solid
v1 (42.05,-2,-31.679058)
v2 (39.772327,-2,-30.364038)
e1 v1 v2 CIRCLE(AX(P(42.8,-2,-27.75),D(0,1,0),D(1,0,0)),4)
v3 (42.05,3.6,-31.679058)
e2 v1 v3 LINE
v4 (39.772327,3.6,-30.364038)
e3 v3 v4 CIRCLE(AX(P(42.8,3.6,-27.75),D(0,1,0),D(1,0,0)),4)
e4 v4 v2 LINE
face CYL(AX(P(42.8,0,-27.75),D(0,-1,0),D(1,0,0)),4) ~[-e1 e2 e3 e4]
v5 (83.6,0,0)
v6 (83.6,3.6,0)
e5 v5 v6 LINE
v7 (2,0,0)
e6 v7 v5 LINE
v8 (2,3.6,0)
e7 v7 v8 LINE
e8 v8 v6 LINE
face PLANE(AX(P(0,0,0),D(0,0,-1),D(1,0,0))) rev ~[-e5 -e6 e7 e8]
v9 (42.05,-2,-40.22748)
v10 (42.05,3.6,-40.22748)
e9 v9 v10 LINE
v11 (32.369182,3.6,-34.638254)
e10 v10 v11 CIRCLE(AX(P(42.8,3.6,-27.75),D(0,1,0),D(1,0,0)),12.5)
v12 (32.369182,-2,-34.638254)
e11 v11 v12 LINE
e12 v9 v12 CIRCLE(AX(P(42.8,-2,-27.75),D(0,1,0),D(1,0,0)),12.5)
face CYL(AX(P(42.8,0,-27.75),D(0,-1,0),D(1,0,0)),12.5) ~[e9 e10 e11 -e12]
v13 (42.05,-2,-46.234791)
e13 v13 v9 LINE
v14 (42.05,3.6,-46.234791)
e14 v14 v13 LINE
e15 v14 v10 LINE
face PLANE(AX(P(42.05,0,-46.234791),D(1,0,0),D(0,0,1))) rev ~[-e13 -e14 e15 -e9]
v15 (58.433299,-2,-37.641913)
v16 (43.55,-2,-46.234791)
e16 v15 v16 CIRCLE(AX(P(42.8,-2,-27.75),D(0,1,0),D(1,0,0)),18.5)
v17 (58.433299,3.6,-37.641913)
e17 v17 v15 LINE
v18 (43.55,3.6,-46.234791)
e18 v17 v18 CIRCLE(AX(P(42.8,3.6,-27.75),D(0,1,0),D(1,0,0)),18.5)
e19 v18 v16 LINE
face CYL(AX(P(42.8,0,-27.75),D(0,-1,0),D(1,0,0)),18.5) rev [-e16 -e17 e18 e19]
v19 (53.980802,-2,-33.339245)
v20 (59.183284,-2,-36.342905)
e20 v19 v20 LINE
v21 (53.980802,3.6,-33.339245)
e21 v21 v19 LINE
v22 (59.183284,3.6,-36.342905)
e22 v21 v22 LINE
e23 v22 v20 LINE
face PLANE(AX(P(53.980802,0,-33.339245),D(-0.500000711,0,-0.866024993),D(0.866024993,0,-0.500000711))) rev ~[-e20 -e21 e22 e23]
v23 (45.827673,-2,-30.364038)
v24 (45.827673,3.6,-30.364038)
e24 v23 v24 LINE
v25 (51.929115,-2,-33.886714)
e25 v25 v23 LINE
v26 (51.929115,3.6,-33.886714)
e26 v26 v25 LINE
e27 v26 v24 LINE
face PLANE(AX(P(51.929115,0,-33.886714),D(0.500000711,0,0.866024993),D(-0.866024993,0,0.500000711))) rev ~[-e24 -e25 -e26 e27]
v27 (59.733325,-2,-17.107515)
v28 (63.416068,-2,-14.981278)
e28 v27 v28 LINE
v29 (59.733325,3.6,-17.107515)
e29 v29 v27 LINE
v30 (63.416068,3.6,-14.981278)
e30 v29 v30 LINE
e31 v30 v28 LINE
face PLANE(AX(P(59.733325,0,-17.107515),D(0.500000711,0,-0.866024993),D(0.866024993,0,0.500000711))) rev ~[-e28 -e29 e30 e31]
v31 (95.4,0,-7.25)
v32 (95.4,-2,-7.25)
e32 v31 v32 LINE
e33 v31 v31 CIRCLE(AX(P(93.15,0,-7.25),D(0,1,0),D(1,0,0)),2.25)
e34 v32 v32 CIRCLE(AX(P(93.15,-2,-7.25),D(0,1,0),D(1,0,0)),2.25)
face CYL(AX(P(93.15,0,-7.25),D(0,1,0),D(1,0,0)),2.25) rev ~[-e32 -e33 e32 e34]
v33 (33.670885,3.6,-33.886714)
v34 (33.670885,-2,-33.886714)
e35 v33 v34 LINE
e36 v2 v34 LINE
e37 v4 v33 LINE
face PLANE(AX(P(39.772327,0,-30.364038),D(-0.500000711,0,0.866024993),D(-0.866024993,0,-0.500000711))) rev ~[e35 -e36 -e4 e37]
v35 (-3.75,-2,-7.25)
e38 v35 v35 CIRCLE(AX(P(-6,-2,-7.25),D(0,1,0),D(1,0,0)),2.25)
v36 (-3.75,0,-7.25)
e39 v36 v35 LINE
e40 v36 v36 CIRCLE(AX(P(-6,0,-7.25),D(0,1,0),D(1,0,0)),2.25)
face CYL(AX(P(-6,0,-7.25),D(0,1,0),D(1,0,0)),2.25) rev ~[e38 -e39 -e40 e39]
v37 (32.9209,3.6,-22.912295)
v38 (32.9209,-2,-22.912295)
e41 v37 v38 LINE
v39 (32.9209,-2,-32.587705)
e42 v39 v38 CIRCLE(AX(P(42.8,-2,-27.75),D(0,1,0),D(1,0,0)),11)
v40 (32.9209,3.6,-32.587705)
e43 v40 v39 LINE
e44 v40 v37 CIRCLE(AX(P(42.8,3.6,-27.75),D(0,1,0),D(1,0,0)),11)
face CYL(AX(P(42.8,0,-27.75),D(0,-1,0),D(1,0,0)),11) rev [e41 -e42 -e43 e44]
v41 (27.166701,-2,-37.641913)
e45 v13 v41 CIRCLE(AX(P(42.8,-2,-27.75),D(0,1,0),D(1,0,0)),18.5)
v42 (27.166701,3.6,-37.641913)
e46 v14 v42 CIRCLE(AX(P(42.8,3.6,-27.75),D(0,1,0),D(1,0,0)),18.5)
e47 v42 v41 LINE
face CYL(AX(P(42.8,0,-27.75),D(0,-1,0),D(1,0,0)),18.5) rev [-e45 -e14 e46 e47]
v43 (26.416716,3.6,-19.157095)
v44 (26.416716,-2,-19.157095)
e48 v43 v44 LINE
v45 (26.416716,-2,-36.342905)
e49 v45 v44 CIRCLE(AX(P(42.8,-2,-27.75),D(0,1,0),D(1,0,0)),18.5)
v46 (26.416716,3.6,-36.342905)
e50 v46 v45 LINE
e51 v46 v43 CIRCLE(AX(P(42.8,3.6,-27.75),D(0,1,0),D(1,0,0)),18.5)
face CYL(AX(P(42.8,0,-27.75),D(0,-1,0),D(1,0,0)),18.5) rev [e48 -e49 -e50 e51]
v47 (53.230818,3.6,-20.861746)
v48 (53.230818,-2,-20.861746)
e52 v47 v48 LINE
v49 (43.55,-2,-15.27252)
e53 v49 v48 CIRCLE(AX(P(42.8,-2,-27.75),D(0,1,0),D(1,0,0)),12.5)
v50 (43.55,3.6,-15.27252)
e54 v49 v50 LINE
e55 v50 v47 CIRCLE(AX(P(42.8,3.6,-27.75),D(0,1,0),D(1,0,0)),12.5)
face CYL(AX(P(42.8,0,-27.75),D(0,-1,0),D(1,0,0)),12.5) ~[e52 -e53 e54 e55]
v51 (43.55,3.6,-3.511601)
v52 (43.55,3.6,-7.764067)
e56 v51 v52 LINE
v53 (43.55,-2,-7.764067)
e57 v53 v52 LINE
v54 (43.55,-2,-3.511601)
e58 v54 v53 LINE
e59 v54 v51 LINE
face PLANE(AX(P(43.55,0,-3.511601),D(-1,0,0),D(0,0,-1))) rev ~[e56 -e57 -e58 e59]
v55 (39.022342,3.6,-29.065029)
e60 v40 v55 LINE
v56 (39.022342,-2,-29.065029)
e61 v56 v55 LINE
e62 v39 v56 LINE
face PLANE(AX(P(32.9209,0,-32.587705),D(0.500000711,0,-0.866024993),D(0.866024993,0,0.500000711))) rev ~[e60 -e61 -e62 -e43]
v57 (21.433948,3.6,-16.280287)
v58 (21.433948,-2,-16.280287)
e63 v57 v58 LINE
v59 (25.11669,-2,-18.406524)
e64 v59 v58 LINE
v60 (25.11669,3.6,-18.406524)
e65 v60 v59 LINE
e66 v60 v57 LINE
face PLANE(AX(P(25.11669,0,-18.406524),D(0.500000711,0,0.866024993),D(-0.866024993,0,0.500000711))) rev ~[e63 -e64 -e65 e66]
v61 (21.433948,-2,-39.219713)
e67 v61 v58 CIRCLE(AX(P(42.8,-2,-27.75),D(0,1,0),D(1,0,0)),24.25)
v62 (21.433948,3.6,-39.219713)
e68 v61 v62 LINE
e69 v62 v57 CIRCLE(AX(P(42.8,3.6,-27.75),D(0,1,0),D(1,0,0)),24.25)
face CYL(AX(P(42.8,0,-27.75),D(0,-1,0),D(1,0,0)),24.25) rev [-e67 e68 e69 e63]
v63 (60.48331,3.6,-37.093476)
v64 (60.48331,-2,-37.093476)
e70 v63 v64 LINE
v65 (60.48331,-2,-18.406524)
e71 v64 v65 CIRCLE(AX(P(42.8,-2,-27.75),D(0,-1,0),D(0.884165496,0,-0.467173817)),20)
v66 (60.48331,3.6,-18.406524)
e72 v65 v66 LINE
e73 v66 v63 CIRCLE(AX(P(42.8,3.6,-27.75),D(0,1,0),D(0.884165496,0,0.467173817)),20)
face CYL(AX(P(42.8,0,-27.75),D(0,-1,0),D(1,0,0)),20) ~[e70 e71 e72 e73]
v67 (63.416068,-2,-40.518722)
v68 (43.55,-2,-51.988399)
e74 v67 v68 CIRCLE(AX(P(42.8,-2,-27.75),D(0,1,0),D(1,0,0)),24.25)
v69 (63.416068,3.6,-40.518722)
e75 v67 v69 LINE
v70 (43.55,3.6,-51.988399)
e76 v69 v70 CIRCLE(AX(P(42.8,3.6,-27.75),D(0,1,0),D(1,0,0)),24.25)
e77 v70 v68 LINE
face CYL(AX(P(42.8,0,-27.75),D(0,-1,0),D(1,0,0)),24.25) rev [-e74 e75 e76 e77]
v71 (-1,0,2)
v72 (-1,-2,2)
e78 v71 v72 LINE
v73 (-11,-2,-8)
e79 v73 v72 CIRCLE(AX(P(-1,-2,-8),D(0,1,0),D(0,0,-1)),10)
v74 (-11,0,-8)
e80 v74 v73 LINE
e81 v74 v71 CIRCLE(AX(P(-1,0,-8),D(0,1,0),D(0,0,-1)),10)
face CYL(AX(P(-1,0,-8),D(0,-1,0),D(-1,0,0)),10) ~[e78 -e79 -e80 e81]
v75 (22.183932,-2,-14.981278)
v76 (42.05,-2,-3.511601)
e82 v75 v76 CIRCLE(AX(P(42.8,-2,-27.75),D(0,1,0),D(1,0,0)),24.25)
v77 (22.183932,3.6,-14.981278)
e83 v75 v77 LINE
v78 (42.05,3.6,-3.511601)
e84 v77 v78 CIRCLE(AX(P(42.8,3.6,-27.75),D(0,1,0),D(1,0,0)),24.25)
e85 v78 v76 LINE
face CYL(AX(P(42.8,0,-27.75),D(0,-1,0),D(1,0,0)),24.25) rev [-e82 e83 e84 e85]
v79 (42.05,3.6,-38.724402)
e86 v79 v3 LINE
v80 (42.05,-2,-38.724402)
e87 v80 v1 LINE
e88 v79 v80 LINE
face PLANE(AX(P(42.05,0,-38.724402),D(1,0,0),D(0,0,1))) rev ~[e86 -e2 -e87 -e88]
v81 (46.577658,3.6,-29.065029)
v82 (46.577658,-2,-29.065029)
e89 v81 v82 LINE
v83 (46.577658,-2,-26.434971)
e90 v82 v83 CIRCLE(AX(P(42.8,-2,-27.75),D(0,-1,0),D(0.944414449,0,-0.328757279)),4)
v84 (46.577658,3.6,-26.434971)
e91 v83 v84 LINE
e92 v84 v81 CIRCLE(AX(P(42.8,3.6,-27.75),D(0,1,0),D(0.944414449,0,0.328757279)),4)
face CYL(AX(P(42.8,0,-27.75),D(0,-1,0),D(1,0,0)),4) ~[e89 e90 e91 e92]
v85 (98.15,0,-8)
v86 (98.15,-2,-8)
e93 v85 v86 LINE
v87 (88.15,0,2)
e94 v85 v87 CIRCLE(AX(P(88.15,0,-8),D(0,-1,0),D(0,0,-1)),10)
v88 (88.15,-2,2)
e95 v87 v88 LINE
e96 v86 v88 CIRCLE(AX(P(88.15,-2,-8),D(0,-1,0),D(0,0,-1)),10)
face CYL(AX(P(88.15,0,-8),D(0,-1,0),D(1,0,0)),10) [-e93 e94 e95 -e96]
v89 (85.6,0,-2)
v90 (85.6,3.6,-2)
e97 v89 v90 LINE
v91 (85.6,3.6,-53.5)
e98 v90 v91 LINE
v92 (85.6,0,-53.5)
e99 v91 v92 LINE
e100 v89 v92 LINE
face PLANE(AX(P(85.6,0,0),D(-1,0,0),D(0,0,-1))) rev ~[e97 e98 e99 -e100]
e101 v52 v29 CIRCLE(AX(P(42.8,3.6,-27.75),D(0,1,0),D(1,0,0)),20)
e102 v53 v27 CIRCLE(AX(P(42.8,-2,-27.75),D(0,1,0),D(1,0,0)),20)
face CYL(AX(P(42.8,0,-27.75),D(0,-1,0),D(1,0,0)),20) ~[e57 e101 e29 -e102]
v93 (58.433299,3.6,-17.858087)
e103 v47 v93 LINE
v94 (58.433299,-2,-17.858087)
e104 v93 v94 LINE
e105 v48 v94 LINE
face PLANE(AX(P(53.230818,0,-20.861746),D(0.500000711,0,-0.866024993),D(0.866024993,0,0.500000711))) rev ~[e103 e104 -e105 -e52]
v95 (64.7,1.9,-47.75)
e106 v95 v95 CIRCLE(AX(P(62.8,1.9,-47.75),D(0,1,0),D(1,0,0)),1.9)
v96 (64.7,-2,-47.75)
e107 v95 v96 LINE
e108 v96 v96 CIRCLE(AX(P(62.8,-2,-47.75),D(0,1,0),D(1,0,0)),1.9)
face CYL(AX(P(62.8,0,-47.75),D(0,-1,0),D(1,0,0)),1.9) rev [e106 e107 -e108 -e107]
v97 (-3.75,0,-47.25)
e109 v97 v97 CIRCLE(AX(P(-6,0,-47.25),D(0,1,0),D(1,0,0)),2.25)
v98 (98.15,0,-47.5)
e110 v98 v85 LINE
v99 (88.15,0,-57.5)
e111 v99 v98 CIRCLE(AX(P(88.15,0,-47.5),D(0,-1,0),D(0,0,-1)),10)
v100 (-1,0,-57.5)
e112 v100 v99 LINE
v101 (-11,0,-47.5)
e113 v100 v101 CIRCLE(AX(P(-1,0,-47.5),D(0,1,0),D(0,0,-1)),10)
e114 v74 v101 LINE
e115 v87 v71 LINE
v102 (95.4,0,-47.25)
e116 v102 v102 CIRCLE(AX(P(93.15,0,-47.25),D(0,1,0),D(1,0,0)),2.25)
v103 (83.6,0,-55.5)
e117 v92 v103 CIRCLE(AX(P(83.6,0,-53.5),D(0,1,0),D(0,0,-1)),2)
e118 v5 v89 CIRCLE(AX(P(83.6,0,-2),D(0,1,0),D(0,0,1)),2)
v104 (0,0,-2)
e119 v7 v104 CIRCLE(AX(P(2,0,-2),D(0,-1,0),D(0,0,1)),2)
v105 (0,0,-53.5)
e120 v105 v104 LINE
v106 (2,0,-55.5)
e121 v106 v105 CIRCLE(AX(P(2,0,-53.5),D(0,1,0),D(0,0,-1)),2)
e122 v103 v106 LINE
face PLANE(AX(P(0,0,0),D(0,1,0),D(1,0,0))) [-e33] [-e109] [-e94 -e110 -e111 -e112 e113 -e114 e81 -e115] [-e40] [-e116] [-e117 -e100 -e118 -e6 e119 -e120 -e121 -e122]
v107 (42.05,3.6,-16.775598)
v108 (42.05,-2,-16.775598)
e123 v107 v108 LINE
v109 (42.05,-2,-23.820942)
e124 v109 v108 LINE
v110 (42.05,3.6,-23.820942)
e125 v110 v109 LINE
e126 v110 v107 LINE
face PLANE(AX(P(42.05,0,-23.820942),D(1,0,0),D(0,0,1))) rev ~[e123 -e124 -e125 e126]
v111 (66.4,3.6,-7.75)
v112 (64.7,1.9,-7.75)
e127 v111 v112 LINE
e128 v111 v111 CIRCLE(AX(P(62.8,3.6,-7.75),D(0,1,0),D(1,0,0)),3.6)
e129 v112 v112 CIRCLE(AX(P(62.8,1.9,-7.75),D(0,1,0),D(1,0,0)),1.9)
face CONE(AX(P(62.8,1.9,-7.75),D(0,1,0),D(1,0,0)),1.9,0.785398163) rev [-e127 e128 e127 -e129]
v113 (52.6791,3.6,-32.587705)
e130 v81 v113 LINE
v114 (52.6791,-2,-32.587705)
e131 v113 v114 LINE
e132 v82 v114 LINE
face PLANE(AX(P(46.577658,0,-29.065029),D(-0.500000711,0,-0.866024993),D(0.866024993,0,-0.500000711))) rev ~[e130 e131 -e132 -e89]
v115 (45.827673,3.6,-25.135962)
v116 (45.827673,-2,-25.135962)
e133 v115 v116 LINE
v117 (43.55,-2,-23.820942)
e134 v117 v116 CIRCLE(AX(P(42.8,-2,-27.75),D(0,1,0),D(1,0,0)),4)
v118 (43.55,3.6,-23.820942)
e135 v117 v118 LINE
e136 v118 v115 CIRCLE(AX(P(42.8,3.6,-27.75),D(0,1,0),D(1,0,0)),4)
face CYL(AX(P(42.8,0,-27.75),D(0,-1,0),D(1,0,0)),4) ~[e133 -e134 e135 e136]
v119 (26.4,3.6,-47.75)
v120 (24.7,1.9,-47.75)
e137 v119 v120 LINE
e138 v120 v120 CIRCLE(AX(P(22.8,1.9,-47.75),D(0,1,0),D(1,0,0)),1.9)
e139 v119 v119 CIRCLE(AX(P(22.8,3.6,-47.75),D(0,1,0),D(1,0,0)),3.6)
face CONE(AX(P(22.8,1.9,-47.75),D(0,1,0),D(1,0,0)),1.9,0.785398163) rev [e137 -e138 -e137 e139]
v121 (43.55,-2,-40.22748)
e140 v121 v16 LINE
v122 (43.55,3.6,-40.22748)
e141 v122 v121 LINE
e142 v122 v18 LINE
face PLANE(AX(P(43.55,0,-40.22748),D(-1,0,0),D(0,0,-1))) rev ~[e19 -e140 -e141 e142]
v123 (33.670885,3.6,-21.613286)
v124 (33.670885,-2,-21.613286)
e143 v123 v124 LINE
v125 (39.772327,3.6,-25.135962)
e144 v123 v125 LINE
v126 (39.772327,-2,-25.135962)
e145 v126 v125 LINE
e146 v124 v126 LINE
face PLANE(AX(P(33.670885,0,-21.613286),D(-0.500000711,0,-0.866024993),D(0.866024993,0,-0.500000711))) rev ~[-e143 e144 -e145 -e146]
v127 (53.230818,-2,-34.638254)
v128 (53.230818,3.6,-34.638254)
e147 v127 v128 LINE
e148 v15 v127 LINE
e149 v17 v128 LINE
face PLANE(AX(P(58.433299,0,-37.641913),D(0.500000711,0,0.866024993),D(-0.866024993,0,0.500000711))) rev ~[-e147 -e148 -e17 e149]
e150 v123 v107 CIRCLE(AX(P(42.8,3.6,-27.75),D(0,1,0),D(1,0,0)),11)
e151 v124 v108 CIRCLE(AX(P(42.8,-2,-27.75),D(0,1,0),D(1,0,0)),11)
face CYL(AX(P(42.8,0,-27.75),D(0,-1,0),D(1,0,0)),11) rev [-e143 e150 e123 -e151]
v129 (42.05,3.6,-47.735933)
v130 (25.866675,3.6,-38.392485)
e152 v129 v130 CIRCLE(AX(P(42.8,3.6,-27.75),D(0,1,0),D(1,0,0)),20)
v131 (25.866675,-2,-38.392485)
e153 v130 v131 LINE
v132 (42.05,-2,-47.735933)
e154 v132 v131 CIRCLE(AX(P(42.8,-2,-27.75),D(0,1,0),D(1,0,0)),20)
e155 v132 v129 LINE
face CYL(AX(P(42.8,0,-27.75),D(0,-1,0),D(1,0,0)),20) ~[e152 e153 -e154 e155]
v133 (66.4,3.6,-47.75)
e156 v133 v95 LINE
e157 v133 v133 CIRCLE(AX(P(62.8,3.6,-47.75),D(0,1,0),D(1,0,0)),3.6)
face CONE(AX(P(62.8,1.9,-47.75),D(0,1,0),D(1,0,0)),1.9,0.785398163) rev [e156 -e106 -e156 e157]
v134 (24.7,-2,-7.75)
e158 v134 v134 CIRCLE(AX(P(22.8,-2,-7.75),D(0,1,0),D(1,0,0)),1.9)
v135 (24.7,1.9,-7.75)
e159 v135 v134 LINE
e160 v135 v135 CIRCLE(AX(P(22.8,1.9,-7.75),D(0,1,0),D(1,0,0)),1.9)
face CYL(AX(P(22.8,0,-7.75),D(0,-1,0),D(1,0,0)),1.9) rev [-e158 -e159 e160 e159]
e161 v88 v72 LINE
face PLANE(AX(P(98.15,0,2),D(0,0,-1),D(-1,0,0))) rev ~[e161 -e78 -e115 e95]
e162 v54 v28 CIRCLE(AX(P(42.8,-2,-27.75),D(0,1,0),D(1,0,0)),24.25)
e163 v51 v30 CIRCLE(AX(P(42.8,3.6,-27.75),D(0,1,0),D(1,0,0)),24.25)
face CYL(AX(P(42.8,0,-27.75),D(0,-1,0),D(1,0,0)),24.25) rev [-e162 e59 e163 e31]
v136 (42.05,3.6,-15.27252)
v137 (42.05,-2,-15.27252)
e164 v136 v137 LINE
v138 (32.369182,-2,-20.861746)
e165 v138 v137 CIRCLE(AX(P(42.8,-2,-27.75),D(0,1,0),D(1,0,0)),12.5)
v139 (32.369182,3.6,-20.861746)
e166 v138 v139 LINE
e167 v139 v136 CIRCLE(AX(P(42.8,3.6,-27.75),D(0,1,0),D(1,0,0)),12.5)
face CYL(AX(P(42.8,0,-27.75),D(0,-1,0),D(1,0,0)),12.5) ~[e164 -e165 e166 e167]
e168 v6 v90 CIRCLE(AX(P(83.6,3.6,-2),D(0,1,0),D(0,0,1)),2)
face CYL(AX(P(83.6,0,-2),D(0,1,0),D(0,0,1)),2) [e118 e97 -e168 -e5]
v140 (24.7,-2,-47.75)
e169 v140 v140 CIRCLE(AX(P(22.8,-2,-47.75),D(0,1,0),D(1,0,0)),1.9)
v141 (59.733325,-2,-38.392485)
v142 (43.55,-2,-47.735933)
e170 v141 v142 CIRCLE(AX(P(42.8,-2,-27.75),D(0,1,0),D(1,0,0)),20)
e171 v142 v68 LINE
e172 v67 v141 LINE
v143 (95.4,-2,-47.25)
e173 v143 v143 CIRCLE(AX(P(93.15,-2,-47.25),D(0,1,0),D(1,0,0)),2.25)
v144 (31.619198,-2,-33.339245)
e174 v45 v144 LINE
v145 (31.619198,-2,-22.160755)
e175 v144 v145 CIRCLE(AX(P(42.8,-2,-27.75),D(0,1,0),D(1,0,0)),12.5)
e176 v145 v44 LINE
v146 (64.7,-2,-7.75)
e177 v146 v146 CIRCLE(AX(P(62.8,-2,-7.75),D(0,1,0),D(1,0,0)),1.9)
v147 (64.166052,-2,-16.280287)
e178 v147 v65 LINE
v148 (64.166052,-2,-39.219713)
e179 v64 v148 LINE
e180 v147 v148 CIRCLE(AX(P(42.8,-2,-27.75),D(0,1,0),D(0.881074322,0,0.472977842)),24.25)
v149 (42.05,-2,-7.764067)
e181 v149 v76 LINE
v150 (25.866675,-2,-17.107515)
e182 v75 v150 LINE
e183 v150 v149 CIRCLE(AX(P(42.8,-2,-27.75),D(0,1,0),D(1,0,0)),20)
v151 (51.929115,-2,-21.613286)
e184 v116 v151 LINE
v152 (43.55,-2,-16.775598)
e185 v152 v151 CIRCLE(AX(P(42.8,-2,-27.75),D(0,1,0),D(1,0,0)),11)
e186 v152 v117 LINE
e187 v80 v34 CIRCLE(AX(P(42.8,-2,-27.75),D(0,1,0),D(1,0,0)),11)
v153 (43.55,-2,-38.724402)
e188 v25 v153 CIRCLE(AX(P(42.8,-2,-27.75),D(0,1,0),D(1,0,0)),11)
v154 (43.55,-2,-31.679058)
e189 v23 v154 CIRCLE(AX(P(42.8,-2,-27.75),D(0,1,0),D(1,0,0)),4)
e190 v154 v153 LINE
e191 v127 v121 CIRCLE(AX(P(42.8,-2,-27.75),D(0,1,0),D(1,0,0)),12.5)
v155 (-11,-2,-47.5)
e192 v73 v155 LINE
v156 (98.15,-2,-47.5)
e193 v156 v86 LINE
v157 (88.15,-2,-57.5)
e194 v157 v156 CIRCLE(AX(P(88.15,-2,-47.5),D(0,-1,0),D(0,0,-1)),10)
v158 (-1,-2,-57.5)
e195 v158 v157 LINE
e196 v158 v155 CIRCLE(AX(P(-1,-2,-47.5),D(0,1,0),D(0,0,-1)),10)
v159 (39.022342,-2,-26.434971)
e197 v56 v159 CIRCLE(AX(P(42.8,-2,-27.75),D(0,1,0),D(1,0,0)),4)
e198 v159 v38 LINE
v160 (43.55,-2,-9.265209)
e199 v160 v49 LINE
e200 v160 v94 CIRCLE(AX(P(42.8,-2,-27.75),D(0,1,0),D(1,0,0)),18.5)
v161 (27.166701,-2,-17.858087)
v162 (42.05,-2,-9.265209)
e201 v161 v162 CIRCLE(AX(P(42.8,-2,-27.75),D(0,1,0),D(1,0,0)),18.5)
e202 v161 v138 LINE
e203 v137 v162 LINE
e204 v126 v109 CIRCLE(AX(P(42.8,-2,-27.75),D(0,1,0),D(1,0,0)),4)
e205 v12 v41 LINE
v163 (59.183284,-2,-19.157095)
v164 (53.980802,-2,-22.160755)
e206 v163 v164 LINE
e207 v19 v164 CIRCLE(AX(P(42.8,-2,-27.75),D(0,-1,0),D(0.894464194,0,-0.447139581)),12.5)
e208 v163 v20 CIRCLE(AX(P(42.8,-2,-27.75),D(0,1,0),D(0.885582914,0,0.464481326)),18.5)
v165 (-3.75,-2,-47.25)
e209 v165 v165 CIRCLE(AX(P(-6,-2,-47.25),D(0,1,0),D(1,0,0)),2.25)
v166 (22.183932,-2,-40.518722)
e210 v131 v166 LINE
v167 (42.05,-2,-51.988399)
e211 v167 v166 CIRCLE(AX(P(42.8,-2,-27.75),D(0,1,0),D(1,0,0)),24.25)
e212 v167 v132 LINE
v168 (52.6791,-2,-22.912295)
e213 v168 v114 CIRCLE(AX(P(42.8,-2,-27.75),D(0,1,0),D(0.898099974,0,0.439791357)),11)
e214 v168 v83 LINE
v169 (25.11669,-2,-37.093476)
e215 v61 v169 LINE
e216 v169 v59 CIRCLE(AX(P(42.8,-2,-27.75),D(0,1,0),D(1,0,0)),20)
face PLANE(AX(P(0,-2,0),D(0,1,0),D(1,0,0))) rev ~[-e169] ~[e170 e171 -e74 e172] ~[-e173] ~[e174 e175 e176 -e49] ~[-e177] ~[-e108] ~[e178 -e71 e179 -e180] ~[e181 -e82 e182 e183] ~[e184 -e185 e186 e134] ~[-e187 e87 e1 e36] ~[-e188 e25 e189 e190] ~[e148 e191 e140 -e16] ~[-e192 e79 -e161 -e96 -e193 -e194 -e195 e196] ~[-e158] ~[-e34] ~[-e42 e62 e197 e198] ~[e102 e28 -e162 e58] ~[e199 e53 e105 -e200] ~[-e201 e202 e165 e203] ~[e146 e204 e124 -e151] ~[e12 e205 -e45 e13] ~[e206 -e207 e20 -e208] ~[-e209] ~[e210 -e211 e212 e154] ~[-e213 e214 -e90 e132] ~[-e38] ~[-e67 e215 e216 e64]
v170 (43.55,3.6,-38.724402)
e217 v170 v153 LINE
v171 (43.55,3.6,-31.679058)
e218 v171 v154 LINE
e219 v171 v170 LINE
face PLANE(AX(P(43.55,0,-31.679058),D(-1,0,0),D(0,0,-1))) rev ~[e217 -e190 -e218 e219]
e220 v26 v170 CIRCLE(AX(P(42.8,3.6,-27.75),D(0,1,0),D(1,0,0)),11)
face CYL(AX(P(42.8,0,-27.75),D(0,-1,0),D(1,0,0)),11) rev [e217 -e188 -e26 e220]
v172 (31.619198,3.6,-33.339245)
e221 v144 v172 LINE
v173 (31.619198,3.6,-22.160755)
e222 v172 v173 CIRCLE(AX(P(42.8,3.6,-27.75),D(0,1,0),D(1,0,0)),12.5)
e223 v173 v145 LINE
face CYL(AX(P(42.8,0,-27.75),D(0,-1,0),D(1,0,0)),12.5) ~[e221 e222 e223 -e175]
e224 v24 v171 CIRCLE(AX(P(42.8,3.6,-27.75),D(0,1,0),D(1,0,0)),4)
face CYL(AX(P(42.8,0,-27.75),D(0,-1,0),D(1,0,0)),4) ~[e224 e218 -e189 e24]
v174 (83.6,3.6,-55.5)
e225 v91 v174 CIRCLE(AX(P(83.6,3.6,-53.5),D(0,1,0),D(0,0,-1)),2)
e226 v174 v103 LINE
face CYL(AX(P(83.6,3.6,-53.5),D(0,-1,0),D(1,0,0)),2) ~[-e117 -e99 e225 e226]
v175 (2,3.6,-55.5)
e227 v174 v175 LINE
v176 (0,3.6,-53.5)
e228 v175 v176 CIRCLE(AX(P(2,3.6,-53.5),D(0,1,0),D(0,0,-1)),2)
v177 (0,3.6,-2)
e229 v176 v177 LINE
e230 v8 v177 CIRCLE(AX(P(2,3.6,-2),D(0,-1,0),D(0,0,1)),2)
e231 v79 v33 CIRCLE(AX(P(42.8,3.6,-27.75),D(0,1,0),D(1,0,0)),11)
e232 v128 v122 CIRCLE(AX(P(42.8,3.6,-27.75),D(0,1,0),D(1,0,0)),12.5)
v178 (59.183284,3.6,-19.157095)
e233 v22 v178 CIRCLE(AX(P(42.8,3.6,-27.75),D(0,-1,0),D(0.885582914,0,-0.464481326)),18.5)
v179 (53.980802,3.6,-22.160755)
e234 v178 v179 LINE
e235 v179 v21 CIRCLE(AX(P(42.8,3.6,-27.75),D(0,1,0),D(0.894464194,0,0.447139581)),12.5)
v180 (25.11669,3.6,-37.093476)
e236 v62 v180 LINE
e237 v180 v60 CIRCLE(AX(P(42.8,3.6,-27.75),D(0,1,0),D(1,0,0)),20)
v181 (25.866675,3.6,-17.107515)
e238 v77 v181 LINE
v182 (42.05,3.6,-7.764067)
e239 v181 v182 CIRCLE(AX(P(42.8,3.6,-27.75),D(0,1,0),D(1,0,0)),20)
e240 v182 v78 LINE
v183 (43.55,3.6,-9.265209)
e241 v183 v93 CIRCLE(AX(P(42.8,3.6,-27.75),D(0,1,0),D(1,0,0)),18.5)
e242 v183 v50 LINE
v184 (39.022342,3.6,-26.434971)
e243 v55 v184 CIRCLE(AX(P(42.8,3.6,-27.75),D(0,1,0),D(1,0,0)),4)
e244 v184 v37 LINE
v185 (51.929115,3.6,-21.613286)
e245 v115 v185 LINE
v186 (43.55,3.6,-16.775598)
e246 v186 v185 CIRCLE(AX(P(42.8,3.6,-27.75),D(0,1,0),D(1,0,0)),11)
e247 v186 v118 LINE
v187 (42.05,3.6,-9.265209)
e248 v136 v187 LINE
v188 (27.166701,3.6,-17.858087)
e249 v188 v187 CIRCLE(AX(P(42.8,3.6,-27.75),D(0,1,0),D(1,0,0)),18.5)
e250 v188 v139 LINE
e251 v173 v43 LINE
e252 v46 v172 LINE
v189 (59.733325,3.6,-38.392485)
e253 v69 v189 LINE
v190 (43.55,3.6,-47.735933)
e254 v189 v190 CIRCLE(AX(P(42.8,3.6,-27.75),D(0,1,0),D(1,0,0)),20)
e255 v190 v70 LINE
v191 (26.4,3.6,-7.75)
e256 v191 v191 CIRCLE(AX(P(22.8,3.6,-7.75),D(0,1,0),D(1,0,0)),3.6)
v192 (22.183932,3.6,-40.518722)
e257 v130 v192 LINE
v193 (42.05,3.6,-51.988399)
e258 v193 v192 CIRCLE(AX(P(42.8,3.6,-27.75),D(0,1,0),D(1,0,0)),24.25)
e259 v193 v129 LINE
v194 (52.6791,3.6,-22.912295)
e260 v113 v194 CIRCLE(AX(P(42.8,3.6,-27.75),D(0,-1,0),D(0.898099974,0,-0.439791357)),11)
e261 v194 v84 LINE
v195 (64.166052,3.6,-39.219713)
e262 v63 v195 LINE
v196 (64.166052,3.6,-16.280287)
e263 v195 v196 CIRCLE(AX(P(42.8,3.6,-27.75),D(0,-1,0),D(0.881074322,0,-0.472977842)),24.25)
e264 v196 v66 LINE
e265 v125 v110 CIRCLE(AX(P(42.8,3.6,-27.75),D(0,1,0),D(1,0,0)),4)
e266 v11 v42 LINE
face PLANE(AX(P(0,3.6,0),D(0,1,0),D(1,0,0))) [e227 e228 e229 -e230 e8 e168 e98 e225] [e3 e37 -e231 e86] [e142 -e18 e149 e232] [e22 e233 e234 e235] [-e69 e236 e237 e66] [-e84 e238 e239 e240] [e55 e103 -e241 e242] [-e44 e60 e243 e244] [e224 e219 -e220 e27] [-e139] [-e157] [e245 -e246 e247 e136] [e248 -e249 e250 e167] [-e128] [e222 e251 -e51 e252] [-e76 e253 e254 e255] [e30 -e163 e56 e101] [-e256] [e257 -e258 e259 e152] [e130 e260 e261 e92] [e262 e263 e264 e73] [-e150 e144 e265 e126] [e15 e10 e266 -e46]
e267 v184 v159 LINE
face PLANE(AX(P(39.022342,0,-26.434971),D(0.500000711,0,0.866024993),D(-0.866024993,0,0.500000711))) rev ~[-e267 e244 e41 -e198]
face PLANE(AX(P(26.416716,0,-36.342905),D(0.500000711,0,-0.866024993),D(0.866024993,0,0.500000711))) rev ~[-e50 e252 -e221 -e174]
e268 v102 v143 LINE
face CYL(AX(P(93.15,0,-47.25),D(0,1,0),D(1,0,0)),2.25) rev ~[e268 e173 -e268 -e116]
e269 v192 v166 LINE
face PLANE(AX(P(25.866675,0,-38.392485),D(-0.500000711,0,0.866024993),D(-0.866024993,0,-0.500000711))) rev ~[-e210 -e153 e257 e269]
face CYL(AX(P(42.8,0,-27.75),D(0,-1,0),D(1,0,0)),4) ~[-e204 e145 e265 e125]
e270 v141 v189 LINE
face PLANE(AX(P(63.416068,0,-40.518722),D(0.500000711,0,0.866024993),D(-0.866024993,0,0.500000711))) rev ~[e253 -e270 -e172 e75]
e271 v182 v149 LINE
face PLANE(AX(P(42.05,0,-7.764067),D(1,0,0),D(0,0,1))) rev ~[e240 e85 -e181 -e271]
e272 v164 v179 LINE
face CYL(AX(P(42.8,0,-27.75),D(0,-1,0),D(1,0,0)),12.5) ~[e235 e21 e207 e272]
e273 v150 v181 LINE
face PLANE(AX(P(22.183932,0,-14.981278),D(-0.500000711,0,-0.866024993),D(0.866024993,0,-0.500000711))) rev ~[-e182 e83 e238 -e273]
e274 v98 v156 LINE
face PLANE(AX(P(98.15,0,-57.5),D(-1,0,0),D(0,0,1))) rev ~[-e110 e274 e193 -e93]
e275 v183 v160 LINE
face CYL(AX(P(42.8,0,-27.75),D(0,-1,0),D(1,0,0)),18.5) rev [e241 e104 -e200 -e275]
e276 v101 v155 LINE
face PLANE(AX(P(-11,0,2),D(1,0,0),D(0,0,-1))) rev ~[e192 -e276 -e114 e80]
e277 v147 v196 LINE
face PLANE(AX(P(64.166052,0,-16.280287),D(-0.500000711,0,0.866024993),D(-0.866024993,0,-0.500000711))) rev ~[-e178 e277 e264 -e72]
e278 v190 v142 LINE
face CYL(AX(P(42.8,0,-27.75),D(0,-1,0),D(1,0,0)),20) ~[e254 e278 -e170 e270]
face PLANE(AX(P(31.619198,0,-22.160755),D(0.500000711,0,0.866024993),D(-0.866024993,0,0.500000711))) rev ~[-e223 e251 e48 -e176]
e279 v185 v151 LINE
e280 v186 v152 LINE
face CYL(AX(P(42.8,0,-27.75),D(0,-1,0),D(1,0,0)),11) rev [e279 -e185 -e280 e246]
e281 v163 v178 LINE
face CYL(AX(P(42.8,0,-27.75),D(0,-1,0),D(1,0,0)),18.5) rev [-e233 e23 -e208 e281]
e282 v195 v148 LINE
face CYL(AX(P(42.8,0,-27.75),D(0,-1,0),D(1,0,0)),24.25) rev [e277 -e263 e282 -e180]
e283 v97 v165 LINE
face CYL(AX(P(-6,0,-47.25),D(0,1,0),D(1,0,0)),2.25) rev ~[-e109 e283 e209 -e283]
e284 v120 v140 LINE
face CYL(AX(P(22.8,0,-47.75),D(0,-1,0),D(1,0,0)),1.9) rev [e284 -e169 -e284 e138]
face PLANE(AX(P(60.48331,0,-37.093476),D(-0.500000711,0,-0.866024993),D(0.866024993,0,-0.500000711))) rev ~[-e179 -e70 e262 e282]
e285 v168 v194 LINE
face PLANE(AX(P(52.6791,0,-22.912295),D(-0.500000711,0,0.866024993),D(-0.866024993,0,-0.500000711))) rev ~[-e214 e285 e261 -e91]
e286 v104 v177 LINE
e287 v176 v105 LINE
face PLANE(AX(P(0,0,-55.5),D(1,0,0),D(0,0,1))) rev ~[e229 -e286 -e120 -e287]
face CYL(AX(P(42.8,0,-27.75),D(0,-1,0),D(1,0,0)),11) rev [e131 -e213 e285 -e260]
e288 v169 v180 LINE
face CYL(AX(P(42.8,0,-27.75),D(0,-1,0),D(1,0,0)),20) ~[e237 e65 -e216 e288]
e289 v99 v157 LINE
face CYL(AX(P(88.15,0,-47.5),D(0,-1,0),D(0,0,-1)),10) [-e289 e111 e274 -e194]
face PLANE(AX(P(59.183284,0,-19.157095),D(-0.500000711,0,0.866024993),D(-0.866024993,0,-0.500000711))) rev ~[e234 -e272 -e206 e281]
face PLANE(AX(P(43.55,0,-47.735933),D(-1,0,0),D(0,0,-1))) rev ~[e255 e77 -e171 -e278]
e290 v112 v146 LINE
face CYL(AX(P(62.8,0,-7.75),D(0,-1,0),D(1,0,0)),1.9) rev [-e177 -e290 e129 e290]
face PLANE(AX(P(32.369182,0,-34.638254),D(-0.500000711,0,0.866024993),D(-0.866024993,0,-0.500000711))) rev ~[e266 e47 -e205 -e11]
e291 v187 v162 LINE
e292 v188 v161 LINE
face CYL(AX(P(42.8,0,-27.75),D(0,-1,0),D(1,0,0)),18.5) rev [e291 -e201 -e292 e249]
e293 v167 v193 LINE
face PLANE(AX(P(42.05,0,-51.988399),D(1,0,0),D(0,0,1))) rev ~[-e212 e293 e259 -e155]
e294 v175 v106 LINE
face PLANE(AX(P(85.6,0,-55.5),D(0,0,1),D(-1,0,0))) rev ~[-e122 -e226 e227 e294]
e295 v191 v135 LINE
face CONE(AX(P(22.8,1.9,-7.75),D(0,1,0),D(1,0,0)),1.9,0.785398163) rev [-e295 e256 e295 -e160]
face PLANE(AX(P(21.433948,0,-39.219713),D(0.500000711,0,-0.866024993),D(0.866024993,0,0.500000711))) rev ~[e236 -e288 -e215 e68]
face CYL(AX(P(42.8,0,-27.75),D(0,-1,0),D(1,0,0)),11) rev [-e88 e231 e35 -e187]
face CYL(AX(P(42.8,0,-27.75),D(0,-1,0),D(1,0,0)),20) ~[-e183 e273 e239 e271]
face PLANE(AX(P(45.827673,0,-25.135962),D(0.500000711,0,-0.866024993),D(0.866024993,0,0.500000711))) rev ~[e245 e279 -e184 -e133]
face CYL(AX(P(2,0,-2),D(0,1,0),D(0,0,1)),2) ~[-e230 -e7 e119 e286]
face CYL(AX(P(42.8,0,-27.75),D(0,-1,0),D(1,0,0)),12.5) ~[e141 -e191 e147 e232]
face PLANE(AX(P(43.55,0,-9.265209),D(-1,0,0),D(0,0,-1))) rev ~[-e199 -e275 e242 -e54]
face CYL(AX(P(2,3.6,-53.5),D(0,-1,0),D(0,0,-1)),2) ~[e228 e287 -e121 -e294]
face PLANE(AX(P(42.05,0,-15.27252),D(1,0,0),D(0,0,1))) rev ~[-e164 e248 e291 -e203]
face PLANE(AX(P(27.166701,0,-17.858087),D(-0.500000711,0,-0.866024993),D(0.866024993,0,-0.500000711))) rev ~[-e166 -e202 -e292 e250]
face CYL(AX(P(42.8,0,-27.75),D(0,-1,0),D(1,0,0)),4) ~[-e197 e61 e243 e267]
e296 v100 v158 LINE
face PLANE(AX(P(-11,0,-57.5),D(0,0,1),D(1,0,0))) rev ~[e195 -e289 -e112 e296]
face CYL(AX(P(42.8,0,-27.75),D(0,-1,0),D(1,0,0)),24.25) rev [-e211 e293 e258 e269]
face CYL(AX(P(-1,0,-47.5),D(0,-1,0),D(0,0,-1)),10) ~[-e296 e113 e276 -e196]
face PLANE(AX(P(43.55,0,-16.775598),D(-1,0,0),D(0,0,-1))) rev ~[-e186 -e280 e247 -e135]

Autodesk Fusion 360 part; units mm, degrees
sketch "Sketch1" plane through (0, 0, 0) normal (0, 1, 0) x (1, 0, 0)
  line L0 (0, 0) -> (85.6, 0)
  line L1 (85.6, 0) -> (85.6, 55.5)
  line L2 (85.6, 55.5) -> (0, 55.5)
  line L3 (0, 55.5) -> (0, 0)
  line L4 (0, 55.5) -> (85.6, 0) construction
  line L5 (0, 0) -> (85.6, 55.5) construction
  line L6 (62.8, 47.75) -> (22.8, 47.75) construction
  line L7 (22.8, 47.75) -> (22.8, 7.75) construction
  line L8 (22.8, 7.75) -> (62.8, 7.75) construction
  line L9 (62.8, 7.75) -> (62.8, 47.75) construction
  line L10 (62.8, 47.75) -> (22.8, 7.75) construction
  line L11 (22.8, 47.75) -> (62.8, 7.75) construction
  circle A0 centre (62.8, 47.75) radius 1.9
  circle A1 centre (62.8, 7.75) radius 1.9
  circle A2 centre (22.8, 7.75) radius 1.9
  circle A3 centre (22.8, 47.75) radius 1.9
  line L12 (68.05, 2.5) -> (17.55, 2.5) construction
  line L13 (17.55, 2.5) -> (17.55, 53) construction
  line L14 (17.55, 53) -> (68.05, 53) construction
  line L15 (68.05, 53) -> (68.05, 2.5) construction
  line L16 (68.05, 2.5) -> (17.55, 53) construction
  line L17 (17.55, 2.5) -> (68.05, 53) construction
  circle A4 centre (42.8, 27.75) radius 24.25
  line L18 (43.55, 53) -> (42.05, 53) construction
  line L19 (42.05, 53) -> (42.05, 27.75)
  line L20 (42.05, 27.75) -> (43.55, 27.75)
  line L21 (43.55, 27.75) -> (43.55, 53)
  line L22 (43.175, 28.3995) -> (21.3079, 41.0245)
  line L23 (20.5579, 39.7255) -> (42.425, 27.1005)
  line L24 (42.425, 28.3995) -> (20.5579, 15.7745)
  line L25 (21.3079, 14.4755) -> (43.175, 27.1005)
  line L26 (42.05, 27.75) -> (42.05, 2.5)
  line L27 (43.55, 2.5) -> (43.55, 27.75)
  line L28 (42.425, 27.1005) -> (64.2921, 14.4755)
  line L29 (65.0421, 15.7745) -> (43.175, 28.3995)
  line L30 (43.175, 27.1005) -> (65.0421, 39.7255)
  line L31 (64.2921, 41.0245) -> (42.425, 28.3995)
  circle A5 centre (42.8, 27.75) radius 20
  circle A6 centre (42.8, 27.75) radius 18.5
  circle A7 centre (42.8, 27.75) radius 12.5
  circle A8 centre (42.8, 27.75) radius 11
  circle A9 centre (42.8, 27.75) radius 4
  line L32 (85.6, 7.25) -> (95.4, 7.25) construction
  circle A10 centre (93.15, 7.25) radius 2.25
  line L33 (93.15, 7.25) -> (93.15, 9.5) construction
  line L34 (93.15, 9.5) -> (93.15, 45) construction
  circle A11 centre (93.15, 47.25) radius 2.25
  line L35 (93.15, 47.25) -> (93.15, 45) construction
  line L36 (85.6, 0) -> (93.15, 0) construction
  line L37 (93.15, 0) -> (93.15, 7.25) construction
  line L38 (85.6, 7.25) -> (0, 7.25) construction
  line L39 (0, 7.25) -> (-6, 7.25) construction
  line L40 (-6, 7.25) -> (-6, 47.25) construction
  line L41 (93.15, 47.25) -> (-6, 47.25) construction
  circle A12 centre (-6, 47.25) radius 2.25
  circle A13 centre (-6, 7.25) radius 2.25
  line L42 (-11, 57.5) -> (98.15, 57.5)
  line L43 (98.15, 57.5) -> (98.15, -2)
  line L44 (98.15, -2) -> (-11, -2)
  line L45 (-11, -2) -> (-11, 57.5)
  point P0 (42.8, 27.75)
  point P1 (42.8, 27.75)
  dimension "d1" = 85.6
  dimension "d2" = 55.5
  dimension "d3" = 40
  dimension "d4" = 40
  dimension "d5" = 3.8
  dimension "d6" = 3.8
  dimension "d7" = 3.8
  dimension "d8" = 3.8
  dimension "d9" = 50.5
  dimension "d10" = 50.5
  dimension "d11" = 48.5
  dimension "d12" = 1.5
  dimension "d14" = 360
  dimension "d15" = -1.5
  dimension "d16" = 25
  dimension "d17" = -1.5
  dimension "d18" = 8
  dimension "d19" = 9.8
  dimension "d20" = 4.5
  dimension "d21" = 35.5
  dimension "d22" = 4.5
  dimension "d23" = 7.25
  dimension "d24" = 6
  dimension "d25" = 4.5
  dimension "d26" = 4.5
  dimension "d27" = 5
  dimension "d28" = 5
  dimension "d29" = 2
  dimension "d30" = 2
extrude "Extrude1" add sketch "Sketch1" along normal blind 3.6 and the other way blind 2 contours L0 L1 L2 L3 | A4 L30 L31 A5 | A4 L28 L29 A5 | L29 L30 A5 A6 | L30 L31 A5 A6 | L28 L29 A5 A6 | A4 L19 L21 A5 | L21 L31 A5 A6 | L30 L31 A6 A7 | A4 L26 L27 A5 | L27 L28 A5 A6 | L28 L29 A6 A7 | L19 L21 A5 A6 | L29 L30 A7 A8 | L30 L31 A7 A8 | L26 L27 A5 A6 | L28 L29 A7 A8 | A4 L22 L23 A5 | L19 L22 A5 A6 | L19 L21 A6 A7 | L21 L31 A7 A8 | L30 L31 A8 A9 | A4 L24 L25 A5 | L25 L26 A5 A6 | L26 L27 A6 A7 | L27 L28 A7 A8 | L28 L29 A8 A9 | L22 L23 A5 A6 | L19 L21 A7 A8 | L29 L30 A9 | L21 L29 L30 L31 A9 | L24 L25 A5 A6 | L26 L27 A7 A8 | L27 L28 L29 L30 A9 | L23 L24 A5 A6 | L22 L23 A6 A7 | L19 L22 A7 A8 | L19 L21 A8 A9 | L21 L31 A9 | L21 L27 L29 L30 | L24 L25 A6 A7 | L25 L26 A7 A8 | L26 L27 A8 A9 | L27 L28 A9 | L22 L23 A7 A8 | L19 L21 L22 L31 A9 | L21 L22 L29 L31 | L19 L20 L21 L22 L24 L29 L31 | L20 L23 L25 L26 L27 L28 L30 | L25 L27 L28 L30 | L24 L25 A7 A8 | L25 L26 L27 L28 A9 | L23 L24 A7 A8 | L22 L23 A8 A9 | L19 L22 A9 | L19 L22 L24 L31 | L24 L25 A8 A9 | L25 L26 A9 | L23 L25 L26 L28 | L19 L22 L23 L24 A9 | L19 L23 L24 L26 | L23 L24 L25 L26 A9 | L23 L24 A9
extrude "Extrude2" add sketch "Sketch1" against normal blind 2 contours L42 L43 L44 L45
fillet "Fillet1" radius 10 4 edges at (98.15, -1, -57.5) (98.15, -1, 2) (-11, -1, 2) (-11, -1, -57.5)
fillet "Fillet2" radius 2 4 edges at (0, 1.8, 0) (85.6, 1.8, 0) (85.6, 1.8, -55.5) (0, 1.8, -55.5)
chamfer "Chamfer1" distance 1.7 angle 45 4 edges at (21.0286, 3.6, -48.4371) (61.0286, 3.6, -48.4371) (61.0286, 3.6, -8.4371) (21.0286, 3.6, -8.4371)
